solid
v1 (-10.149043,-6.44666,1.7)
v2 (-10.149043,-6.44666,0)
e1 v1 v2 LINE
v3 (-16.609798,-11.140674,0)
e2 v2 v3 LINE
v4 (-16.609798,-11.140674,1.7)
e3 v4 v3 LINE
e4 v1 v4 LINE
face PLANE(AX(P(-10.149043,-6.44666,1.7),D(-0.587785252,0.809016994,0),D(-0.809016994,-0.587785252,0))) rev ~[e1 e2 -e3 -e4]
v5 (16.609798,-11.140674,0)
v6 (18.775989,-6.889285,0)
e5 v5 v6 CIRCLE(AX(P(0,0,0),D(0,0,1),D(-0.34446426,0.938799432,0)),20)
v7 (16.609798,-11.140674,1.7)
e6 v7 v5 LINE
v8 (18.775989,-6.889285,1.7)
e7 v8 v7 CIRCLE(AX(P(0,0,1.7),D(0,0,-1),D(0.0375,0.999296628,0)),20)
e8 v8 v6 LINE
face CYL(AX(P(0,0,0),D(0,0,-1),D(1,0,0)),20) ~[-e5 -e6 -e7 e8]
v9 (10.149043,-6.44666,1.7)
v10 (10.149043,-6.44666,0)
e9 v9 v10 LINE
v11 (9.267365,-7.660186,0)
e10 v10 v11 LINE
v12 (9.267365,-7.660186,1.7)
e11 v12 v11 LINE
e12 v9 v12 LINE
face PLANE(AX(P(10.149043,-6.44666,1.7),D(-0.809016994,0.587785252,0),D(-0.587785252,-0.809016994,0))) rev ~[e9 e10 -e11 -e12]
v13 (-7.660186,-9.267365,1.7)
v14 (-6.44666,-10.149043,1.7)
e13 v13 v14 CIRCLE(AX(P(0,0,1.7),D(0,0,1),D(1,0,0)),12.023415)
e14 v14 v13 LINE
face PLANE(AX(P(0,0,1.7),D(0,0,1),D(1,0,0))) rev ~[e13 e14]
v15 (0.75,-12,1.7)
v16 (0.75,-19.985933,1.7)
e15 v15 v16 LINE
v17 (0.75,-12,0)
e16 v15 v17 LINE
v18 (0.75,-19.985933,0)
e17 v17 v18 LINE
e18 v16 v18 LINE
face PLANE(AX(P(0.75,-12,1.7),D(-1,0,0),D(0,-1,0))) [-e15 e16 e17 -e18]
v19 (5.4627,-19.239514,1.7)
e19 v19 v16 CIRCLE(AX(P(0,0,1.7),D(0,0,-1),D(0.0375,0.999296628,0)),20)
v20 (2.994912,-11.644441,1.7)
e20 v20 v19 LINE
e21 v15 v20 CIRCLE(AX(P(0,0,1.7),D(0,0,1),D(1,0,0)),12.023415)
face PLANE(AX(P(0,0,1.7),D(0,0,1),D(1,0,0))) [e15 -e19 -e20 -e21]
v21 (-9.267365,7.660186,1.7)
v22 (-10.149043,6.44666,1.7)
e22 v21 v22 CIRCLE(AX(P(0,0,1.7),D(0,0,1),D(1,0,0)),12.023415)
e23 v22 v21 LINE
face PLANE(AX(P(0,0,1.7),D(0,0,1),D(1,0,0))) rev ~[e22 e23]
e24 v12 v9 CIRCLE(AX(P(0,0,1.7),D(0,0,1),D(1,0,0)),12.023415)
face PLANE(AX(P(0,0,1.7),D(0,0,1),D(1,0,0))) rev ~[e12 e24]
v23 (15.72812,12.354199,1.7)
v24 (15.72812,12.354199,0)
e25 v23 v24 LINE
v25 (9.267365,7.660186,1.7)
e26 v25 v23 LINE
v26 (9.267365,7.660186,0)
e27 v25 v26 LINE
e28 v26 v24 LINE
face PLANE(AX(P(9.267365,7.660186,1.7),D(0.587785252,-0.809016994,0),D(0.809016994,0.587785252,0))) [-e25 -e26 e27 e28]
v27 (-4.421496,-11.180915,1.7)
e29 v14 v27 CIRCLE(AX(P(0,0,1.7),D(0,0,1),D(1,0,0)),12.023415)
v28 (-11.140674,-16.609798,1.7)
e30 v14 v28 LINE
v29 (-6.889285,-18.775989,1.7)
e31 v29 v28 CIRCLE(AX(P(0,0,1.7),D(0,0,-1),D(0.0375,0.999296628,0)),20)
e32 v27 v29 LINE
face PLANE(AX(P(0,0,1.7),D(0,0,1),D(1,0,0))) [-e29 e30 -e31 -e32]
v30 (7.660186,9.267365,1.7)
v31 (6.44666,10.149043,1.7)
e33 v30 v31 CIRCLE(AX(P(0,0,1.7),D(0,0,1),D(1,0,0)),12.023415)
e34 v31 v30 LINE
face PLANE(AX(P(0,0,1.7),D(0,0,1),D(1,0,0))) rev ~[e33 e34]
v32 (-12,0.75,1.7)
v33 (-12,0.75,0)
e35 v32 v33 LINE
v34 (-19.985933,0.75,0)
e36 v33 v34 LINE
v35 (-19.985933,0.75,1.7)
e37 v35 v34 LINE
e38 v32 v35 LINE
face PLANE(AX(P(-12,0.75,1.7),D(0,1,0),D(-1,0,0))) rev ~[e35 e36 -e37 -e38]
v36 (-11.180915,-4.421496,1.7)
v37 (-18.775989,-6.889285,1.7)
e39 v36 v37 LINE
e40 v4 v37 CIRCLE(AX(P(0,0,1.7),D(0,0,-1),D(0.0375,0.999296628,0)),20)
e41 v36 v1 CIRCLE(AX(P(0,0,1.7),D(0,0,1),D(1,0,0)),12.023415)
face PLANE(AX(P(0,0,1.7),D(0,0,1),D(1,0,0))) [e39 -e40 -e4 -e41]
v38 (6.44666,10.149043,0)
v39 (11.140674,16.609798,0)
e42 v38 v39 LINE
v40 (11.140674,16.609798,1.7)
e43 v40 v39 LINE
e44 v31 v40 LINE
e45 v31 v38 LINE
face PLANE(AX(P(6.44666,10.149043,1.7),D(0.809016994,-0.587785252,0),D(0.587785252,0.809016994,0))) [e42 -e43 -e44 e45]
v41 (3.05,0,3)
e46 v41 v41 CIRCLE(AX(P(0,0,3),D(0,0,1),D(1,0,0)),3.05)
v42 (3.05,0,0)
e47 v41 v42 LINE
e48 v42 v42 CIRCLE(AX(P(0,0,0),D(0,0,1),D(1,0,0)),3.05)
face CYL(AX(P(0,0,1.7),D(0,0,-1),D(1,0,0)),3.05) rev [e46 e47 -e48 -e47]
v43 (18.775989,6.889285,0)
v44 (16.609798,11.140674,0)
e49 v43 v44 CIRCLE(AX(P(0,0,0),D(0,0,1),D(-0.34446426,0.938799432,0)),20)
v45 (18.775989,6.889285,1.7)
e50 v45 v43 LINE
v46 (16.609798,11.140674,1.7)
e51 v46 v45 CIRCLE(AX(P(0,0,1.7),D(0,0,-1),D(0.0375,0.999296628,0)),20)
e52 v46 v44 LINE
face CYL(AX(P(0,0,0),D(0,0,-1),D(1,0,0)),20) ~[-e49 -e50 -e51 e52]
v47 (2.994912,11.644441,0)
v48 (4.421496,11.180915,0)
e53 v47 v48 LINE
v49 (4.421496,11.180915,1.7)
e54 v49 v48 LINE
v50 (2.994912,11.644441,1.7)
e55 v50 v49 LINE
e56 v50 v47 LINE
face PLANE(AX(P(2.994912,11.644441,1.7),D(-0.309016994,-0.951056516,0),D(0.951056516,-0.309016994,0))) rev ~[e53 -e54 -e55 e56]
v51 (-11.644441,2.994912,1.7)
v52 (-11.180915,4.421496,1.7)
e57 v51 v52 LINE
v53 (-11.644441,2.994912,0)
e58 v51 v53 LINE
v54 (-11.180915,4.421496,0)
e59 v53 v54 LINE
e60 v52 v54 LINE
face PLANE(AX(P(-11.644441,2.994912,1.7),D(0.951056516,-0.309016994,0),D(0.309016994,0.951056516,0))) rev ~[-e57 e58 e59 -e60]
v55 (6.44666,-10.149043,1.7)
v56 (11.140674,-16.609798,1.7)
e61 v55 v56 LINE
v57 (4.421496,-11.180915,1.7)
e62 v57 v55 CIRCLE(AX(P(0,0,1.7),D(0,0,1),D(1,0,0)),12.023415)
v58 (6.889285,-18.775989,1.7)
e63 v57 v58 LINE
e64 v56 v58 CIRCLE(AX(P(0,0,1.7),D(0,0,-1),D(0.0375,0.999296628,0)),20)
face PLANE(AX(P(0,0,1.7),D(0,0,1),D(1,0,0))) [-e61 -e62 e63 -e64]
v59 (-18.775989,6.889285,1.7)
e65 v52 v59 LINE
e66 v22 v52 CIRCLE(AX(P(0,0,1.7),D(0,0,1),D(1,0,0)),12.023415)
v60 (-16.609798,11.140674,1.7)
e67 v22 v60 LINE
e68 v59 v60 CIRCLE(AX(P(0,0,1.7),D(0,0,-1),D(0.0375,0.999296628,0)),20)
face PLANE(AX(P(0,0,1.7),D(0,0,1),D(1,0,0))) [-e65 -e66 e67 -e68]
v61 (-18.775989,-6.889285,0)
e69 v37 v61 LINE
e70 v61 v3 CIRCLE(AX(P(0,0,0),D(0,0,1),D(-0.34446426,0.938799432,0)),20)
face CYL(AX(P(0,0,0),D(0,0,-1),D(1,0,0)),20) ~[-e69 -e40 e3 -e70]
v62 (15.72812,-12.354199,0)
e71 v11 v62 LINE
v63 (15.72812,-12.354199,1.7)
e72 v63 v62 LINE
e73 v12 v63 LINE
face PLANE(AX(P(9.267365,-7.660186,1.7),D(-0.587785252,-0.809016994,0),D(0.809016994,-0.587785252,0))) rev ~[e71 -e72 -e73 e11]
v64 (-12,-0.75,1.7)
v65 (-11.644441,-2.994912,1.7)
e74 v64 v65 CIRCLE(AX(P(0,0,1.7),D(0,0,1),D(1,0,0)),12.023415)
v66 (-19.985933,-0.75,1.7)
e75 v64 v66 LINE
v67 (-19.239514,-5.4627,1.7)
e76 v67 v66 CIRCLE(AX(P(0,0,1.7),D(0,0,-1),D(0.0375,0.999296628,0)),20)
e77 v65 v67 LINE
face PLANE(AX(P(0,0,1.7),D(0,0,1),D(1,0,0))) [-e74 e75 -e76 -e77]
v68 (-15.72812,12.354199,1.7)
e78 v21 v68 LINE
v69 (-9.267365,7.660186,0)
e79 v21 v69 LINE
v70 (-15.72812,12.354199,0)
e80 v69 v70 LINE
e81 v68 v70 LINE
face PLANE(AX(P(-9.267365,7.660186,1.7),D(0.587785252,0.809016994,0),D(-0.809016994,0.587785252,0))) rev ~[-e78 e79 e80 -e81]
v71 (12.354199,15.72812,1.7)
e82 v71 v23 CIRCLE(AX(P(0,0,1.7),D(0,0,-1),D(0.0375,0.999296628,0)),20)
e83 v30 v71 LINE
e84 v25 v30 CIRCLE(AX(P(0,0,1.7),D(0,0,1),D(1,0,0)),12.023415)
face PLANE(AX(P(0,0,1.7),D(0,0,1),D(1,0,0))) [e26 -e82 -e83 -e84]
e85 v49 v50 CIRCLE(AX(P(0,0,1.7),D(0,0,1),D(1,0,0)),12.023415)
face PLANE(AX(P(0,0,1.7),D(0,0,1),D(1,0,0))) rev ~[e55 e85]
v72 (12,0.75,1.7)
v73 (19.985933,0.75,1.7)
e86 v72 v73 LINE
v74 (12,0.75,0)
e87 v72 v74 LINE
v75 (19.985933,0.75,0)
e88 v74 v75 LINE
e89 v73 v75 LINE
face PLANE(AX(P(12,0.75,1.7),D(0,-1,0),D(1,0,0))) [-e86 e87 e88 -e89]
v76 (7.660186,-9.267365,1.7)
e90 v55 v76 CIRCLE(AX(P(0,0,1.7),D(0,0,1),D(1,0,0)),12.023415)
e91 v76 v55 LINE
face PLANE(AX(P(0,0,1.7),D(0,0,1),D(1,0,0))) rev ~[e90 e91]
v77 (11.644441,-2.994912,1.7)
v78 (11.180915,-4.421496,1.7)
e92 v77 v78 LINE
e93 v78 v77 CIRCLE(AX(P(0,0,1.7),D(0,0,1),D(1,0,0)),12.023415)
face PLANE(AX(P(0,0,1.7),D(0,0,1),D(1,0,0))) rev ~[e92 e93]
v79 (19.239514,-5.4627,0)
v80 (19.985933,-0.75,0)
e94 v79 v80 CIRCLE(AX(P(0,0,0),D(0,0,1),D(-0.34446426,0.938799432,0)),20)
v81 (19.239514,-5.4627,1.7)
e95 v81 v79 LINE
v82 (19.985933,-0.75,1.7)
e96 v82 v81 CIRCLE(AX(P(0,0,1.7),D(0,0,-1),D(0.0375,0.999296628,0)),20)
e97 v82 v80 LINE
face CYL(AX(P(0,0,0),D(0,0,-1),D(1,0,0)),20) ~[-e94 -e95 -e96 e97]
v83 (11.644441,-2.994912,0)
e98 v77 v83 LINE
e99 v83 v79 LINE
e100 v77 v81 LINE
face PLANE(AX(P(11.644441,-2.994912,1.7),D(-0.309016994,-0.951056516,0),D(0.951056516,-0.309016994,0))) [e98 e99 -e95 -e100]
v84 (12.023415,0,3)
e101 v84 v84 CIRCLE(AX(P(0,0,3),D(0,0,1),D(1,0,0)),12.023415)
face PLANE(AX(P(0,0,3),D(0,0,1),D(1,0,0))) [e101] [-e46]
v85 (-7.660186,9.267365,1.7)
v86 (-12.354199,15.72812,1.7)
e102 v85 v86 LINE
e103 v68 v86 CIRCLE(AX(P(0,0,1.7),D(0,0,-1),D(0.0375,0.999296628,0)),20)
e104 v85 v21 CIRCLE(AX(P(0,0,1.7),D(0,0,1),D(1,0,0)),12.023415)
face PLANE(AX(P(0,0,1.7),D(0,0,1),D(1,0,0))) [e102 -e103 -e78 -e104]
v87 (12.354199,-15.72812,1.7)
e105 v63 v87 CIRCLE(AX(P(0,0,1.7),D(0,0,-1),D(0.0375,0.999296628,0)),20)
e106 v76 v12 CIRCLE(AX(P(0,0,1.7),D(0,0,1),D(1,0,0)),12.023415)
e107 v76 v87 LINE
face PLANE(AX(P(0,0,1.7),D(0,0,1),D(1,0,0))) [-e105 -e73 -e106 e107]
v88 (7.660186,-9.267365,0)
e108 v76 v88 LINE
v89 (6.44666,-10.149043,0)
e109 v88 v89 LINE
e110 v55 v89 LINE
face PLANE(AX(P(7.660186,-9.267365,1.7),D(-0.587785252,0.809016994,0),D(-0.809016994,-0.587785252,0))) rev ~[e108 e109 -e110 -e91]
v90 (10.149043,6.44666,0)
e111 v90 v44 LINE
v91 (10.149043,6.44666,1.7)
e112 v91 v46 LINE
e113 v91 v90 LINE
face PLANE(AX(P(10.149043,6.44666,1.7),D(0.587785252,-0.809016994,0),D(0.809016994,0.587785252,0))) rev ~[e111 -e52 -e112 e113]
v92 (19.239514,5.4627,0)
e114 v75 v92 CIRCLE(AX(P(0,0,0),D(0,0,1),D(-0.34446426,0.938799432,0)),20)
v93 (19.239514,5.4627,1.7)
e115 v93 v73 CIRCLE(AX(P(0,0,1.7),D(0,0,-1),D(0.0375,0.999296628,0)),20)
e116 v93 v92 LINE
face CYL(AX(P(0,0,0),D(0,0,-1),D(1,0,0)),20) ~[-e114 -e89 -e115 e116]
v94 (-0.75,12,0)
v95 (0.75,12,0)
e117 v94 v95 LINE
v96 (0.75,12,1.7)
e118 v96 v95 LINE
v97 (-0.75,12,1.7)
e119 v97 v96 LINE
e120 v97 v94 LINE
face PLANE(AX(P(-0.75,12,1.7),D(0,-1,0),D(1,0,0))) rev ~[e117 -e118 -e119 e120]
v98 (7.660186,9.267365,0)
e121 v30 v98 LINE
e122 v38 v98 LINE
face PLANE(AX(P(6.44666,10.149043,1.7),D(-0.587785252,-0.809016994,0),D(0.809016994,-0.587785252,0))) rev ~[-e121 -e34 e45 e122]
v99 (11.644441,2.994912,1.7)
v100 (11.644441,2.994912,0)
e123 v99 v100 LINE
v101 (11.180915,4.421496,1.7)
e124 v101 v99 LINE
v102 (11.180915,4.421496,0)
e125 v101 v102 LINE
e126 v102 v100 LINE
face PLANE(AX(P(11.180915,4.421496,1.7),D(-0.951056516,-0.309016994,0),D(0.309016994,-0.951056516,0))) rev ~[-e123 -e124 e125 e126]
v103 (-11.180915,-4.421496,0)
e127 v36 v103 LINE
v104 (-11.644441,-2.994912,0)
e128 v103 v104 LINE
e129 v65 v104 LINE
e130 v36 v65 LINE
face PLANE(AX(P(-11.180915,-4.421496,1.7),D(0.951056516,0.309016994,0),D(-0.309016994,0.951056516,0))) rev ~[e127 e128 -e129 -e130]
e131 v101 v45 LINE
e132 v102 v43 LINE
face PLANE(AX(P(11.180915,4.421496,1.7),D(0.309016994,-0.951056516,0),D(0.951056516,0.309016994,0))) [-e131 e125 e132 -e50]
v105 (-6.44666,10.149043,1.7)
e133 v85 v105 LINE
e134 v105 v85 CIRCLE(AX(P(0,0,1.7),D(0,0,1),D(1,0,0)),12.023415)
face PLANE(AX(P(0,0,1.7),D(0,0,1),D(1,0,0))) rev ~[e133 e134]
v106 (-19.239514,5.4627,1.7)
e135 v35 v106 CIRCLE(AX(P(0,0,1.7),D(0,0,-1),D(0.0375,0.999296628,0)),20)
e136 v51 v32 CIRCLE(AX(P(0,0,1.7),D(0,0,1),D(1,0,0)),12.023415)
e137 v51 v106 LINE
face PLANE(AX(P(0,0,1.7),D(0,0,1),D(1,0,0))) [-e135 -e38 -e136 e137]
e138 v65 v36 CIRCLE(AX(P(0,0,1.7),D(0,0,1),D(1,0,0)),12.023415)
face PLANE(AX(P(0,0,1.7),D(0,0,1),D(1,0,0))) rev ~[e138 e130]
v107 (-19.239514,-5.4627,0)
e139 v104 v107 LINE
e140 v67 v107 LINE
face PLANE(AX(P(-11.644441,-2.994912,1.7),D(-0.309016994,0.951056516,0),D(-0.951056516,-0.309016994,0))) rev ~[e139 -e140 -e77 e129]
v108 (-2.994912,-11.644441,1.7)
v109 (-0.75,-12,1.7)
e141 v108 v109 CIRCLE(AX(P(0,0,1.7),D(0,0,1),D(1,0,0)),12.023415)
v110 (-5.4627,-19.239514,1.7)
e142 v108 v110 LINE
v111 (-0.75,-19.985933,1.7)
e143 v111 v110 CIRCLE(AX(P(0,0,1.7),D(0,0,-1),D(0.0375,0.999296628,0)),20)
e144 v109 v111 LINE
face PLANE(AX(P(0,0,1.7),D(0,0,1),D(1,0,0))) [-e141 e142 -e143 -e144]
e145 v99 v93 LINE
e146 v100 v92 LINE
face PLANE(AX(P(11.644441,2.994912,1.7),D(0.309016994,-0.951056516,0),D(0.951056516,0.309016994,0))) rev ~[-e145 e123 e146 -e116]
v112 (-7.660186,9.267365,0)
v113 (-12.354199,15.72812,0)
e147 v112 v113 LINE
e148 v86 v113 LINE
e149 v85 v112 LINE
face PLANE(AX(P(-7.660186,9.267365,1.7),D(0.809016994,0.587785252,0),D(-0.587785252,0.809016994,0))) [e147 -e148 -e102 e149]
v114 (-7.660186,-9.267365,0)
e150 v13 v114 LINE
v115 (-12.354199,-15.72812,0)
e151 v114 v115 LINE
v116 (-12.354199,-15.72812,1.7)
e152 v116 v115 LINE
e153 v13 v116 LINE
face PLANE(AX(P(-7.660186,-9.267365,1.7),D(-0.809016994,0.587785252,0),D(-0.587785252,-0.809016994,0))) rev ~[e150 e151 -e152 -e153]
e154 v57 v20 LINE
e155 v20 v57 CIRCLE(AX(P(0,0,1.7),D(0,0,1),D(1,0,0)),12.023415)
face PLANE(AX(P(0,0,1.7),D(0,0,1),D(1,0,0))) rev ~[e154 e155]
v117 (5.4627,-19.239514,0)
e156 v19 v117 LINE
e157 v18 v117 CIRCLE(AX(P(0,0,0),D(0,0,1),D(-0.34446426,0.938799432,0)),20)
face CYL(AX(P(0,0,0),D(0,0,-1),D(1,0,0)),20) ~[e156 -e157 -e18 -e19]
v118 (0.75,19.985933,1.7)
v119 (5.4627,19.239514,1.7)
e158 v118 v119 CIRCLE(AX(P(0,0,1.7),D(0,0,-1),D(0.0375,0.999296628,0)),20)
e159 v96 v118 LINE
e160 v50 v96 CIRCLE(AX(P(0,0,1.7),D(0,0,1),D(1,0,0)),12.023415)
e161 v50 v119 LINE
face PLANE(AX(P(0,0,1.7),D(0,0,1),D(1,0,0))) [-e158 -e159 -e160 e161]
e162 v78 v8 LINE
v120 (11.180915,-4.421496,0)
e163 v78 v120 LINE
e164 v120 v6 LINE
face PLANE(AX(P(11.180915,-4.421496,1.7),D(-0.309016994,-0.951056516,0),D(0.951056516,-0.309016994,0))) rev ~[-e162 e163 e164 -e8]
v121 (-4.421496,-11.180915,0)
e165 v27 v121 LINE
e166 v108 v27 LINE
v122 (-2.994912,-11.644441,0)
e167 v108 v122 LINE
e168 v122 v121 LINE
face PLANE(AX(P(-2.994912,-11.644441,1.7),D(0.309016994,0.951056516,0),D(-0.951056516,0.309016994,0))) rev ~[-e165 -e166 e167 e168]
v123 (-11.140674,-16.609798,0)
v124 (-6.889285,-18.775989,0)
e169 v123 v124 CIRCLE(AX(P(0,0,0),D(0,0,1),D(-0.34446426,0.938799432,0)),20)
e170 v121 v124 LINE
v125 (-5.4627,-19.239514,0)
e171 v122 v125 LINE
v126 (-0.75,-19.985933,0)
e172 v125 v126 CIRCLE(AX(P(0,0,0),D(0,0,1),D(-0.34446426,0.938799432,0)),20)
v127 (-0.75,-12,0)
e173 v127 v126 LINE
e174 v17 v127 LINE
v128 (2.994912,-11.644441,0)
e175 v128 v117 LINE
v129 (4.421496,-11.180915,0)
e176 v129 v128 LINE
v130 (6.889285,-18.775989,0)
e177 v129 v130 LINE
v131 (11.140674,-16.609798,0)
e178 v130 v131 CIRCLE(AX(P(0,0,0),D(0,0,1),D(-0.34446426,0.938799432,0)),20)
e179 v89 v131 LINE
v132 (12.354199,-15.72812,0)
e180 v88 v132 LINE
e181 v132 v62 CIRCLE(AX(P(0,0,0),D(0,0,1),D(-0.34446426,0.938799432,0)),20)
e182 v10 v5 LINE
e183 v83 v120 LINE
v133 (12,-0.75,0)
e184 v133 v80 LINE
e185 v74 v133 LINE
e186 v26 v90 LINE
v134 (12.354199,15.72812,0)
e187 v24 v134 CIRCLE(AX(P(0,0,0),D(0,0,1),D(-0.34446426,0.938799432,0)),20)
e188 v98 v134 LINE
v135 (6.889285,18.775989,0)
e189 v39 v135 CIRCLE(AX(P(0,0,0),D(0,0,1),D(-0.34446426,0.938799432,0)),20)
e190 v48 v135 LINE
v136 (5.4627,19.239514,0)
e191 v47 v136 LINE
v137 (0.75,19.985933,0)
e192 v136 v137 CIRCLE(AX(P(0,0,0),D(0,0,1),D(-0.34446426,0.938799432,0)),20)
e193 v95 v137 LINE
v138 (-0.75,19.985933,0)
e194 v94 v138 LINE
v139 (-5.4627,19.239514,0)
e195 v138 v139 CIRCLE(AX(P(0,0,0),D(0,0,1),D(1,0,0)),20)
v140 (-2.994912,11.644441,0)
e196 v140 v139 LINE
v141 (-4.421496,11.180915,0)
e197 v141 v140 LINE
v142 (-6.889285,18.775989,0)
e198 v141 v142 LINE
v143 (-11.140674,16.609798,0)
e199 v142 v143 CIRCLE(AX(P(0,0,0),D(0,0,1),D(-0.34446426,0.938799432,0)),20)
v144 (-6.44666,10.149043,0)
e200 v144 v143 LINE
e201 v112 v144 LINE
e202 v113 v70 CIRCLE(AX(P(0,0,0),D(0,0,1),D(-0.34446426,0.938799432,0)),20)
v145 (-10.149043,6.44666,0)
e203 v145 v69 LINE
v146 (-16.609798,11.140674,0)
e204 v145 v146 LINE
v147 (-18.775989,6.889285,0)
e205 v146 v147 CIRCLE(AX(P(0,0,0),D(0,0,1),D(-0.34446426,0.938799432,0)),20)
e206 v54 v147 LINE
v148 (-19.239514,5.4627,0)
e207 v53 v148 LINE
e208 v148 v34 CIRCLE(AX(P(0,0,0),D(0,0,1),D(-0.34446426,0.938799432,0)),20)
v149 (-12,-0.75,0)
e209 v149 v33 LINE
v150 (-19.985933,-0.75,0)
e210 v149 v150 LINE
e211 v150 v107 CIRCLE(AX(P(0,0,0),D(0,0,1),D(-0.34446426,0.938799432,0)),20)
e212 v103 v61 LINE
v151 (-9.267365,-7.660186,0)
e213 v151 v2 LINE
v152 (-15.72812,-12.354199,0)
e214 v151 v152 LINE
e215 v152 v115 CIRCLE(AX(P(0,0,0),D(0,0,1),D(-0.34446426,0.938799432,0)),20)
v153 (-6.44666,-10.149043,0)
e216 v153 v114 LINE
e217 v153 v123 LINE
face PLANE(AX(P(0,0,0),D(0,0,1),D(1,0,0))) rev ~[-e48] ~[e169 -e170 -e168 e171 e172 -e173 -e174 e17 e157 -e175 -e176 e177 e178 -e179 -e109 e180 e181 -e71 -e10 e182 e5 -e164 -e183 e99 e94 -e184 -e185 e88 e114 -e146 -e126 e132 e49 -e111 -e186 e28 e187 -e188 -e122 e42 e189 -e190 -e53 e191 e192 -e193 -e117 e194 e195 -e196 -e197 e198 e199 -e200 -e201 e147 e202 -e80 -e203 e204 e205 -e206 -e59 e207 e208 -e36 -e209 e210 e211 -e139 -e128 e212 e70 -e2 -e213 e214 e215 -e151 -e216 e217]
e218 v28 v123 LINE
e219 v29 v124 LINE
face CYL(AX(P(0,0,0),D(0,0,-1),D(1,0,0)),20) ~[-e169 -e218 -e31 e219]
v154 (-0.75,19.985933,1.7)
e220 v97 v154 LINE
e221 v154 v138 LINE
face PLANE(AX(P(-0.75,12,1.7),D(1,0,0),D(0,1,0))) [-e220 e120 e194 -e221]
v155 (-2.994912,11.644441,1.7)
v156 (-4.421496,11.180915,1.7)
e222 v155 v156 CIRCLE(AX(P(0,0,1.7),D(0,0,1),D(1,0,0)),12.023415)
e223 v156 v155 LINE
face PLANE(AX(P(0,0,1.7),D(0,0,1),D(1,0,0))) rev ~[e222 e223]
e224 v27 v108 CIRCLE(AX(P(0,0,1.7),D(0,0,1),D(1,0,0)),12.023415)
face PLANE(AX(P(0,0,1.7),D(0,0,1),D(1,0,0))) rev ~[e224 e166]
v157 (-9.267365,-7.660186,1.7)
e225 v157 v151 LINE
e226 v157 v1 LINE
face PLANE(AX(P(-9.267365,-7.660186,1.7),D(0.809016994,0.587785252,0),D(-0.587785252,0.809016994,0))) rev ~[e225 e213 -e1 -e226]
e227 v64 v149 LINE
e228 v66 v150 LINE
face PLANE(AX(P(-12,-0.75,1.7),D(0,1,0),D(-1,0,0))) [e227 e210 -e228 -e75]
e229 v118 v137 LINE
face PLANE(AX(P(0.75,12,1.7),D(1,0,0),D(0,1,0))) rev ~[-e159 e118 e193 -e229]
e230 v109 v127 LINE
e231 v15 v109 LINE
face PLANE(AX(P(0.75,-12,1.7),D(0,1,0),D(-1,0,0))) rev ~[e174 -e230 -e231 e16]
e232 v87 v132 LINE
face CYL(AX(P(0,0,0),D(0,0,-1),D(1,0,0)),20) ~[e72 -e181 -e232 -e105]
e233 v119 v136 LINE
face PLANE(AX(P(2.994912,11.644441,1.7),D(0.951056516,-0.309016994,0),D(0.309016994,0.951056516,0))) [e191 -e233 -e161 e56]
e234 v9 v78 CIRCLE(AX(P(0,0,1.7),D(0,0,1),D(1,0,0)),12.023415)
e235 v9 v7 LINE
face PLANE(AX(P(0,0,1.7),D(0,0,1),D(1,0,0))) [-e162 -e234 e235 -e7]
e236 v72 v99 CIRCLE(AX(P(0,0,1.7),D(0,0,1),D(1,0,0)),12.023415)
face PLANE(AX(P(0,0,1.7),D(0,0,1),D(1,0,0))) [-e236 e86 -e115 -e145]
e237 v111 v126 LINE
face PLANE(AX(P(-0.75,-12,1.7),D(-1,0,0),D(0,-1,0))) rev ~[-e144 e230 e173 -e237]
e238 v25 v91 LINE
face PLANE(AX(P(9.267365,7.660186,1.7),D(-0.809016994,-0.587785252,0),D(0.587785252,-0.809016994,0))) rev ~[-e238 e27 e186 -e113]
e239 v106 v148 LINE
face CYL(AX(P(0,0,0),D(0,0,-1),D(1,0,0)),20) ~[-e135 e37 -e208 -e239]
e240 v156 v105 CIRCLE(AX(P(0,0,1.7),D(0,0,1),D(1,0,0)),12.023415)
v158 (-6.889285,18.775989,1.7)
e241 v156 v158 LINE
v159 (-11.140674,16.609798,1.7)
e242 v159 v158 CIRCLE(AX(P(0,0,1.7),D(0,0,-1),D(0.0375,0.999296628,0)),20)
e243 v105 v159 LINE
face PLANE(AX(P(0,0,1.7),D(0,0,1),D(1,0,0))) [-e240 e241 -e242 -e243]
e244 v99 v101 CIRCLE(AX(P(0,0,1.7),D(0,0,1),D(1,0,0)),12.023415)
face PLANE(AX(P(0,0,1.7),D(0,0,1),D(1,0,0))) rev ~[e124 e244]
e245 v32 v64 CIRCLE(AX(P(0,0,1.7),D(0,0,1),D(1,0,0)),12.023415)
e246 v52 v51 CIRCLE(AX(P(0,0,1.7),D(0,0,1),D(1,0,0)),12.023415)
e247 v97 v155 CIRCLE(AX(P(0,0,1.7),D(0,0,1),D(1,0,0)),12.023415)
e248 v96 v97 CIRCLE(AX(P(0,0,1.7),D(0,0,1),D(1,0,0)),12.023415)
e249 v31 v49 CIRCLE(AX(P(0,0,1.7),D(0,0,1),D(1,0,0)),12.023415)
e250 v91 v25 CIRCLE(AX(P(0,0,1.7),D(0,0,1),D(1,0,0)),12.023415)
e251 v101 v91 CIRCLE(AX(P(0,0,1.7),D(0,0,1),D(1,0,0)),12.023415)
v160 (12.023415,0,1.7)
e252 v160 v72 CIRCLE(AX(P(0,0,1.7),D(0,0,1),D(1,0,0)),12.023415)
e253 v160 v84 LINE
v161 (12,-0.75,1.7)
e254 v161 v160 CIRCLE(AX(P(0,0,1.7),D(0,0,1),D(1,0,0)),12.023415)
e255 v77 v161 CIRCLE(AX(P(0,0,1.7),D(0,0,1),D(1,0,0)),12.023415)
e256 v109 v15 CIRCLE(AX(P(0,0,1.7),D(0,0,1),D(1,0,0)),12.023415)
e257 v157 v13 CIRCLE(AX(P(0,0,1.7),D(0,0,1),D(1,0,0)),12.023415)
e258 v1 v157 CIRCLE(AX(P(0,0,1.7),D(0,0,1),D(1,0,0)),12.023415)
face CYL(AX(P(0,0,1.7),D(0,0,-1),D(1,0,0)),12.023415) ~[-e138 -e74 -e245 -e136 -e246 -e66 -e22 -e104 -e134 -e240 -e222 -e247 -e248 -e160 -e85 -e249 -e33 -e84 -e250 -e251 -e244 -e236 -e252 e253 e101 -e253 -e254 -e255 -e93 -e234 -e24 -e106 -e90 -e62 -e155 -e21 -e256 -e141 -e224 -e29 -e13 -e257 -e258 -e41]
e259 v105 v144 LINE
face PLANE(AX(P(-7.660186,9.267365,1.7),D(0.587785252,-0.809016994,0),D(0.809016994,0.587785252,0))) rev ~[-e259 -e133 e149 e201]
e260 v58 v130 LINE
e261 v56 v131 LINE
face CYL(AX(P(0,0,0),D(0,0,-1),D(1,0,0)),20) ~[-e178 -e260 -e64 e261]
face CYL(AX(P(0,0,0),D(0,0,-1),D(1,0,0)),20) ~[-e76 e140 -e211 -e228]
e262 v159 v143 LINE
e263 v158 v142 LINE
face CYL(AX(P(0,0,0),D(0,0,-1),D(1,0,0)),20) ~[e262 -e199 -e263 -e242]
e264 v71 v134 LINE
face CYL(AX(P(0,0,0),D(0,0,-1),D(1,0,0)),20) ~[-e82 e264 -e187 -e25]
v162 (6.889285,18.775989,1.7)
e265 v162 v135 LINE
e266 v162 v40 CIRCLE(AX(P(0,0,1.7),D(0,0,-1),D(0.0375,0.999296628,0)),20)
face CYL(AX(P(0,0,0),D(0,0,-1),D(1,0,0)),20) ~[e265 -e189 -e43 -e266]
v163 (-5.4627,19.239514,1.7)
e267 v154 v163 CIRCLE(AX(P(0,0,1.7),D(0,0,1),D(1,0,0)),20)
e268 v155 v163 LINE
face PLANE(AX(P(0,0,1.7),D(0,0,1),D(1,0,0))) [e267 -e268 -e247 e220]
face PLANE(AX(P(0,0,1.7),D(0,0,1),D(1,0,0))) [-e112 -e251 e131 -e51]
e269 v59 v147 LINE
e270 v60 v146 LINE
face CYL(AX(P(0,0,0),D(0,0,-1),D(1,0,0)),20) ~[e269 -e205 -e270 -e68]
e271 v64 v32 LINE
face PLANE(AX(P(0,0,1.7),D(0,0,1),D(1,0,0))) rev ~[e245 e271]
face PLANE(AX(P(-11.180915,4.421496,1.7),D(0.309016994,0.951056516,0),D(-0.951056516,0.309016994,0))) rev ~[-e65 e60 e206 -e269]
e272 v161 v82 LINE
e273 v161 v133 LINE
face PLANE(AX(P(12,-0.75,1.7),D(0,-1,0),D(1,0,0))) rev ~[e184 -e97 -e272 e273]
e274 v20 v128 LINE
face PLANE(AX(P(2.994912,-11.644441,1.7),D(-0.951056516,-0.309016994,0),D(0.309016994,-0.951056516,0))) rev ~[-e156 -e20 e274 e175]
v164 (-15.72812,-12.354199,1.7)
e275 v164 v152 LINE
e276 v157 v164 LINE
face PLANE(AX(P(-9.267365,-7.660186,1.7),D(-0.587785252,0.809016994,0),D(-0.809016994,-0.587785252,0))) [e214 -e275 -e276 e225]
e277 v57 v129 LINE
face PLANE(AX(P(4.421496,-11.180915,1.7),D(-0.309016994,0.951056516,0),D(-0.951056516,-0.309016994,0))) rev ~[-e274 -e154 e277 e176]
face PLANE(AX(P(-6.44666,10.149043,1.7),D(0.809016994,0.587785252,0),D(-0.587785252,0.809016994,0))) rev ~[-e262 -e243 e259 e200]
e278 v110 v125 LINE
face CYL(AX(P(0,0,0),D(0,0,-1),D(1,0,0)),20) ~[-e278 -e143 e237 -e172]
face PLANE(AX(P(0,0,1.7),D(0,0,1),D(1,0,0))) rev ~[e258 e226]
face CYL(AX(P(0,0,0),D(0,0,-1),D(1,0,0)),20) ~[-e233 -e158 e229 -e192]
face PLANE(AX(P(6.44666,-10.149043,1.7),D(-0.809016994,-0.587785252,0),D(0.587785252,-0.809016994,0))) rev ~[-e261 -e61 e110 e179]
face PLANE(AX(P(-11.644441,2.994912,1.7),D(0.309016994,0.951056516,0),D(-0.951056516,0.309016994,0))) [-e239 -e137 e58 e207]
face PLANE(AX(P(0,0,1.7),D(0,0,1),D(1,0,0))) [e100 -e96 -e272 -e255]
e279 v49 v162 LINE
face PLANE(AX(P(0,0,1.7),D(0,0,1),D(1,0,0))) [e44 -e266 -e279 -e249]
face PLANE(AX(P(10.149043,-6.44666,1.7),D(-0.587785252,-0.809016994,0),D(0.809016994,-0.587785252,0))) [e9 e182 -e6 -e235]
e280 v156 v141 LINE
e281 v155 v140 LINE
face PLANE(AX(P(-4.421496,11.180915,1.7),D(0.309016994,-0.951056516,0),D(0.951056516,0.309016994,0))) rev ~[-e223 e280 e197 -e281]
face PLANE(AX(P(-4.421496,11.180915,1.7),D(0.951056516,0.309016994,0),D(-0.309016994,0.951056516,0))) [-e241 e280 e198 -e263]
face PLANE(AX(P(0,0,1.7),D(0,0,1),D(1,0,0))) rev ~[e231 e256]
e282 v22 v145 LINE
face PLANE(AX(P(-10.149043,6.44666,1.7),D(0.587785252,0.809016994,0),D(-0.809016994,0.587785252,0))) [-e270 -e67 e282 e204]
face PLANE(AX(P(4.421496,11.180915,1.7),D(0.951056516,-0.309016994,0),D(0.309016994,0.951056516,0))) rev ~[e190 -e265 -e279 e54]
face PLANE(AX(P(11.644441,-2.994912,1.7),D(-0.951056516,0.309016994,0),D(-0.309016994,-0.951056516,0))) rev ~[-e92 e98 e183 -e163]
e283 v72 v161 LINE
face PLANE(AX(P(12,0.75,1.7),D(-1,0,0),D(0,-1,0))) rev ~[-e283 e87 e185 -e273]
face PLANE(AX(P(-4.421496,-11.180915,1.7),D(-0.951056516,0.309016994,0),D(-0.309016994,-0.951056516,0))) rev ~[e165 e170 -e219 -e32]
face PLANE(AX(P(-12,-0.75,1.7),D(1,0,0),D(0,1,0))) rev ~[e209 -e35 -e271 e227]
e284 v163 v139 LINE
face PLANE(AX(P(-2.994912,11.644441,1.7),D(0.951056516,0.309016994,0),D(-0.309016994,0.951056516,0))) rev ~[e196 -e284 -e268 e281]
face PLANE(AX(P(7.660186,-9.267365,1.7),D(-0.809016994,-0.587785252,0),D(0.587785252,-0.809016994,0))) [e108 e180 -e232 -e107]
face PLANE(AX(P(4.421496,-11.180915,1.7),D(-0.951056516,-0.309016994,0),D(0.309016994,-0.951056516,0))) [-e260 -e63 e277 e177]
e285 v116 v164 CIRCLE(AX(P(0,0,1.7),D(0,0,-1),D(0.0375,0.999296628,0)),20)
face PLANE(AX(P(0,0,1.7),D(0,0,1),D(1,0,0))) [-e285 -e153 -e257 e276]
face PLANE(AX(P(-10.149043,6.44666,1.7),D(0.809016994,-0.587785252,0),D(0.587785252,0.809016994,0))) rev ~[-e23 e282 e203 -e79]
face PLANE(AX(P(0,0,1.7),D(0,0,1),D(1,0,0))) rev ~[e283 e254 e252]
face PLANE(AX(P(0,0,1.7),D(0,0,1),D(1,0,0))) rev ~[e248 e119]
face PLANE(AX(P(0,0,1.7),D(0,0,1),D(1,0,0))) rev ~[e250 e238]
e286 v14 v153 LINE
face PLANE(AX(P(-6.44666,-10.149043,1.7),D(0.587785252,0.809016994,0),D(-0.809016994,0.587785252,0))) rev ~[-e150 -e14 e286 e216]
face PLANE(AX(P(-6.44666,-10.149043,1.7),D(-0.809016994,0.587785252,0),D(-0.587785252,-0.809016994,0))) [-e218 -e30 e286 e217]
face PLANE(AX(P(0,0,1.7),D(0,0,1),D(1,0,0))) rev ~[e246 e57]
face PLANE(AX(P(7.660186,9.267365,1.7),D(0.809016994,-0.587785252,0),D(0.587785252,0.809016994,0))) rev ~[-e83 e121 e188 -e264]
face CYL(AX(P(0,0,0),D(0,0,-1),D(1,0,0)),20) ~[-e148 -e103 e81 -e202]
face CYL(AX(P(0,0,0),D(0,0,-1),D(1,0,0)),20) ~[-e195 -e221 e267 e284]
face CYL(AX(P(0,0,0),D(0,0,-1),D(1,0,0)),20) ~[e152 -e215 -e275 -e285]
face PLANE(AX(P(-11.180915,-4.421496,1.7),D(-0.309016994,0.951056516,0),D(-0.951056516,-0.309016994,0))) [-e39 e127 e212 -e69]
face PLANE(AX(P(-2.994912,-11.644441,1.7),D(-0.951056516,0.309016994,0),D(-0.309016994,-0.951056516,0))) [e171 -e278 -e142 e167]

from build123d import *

# Parameters (mm, degrees)
SKETCH_R           = 20
SKETCH_R_2         = 3.05
PAD_DEPTH          = 1.7
SKETCH001_W        = 1.5
SKETCH001_H        = 8
POCKET_DEPTH       = 114.889162
POLARPATTERN_COUNT = 20
SKETCH002_R        = 12.023415
SKETCH002_R_2      = 3.05
PAD001_DEPTH       = 1.3


with BuildPart() as part:
    # Sketch → Pad (new body)
    with BuildSketch(Plane.XY):
        Circle(SKETCH_R)
        Circle(SKETCH_R_2, mode=Mode.SUBTRACT)
    extrude(amount=PAD_DEPTH)

    # Sketch001 (on Face4 of Pad) → Pocket (cut, through all)
    with BuildSketch(Plane.XY.offset(1.7)):
        with Locations((0, 16)):
            Rectangle(SKETCH001_W, SKETCH001_H)
    pocket = extrude(amount=-POCKET_DEPTH, mode=Mode.SUBTRACT)

    # PolarPattern: Pocket ×20 about axis
    polarpattern_axis = Axis((0, 0, 1.7), (0, 0, 1))
    for i in range(1, POLARPATTERN_COUNT):
        add(pocket.rotate(polarpattern_axis, i * 360 / POLARPATTERN_COUNT), mode=Mode.SUBTRACT)

    # Sketch002 (on Face4 of PolarPattern) → Pad001 (join)
    with BuildSketch(Plane.XY.offset(1.7)):
        Circle(SKETCH002_R)
        Circle(SKETCH002_R_2, mode=Mode.SUBTRACT)
    extrude(amount=PAD001_DEPTH)


solid = part.part
